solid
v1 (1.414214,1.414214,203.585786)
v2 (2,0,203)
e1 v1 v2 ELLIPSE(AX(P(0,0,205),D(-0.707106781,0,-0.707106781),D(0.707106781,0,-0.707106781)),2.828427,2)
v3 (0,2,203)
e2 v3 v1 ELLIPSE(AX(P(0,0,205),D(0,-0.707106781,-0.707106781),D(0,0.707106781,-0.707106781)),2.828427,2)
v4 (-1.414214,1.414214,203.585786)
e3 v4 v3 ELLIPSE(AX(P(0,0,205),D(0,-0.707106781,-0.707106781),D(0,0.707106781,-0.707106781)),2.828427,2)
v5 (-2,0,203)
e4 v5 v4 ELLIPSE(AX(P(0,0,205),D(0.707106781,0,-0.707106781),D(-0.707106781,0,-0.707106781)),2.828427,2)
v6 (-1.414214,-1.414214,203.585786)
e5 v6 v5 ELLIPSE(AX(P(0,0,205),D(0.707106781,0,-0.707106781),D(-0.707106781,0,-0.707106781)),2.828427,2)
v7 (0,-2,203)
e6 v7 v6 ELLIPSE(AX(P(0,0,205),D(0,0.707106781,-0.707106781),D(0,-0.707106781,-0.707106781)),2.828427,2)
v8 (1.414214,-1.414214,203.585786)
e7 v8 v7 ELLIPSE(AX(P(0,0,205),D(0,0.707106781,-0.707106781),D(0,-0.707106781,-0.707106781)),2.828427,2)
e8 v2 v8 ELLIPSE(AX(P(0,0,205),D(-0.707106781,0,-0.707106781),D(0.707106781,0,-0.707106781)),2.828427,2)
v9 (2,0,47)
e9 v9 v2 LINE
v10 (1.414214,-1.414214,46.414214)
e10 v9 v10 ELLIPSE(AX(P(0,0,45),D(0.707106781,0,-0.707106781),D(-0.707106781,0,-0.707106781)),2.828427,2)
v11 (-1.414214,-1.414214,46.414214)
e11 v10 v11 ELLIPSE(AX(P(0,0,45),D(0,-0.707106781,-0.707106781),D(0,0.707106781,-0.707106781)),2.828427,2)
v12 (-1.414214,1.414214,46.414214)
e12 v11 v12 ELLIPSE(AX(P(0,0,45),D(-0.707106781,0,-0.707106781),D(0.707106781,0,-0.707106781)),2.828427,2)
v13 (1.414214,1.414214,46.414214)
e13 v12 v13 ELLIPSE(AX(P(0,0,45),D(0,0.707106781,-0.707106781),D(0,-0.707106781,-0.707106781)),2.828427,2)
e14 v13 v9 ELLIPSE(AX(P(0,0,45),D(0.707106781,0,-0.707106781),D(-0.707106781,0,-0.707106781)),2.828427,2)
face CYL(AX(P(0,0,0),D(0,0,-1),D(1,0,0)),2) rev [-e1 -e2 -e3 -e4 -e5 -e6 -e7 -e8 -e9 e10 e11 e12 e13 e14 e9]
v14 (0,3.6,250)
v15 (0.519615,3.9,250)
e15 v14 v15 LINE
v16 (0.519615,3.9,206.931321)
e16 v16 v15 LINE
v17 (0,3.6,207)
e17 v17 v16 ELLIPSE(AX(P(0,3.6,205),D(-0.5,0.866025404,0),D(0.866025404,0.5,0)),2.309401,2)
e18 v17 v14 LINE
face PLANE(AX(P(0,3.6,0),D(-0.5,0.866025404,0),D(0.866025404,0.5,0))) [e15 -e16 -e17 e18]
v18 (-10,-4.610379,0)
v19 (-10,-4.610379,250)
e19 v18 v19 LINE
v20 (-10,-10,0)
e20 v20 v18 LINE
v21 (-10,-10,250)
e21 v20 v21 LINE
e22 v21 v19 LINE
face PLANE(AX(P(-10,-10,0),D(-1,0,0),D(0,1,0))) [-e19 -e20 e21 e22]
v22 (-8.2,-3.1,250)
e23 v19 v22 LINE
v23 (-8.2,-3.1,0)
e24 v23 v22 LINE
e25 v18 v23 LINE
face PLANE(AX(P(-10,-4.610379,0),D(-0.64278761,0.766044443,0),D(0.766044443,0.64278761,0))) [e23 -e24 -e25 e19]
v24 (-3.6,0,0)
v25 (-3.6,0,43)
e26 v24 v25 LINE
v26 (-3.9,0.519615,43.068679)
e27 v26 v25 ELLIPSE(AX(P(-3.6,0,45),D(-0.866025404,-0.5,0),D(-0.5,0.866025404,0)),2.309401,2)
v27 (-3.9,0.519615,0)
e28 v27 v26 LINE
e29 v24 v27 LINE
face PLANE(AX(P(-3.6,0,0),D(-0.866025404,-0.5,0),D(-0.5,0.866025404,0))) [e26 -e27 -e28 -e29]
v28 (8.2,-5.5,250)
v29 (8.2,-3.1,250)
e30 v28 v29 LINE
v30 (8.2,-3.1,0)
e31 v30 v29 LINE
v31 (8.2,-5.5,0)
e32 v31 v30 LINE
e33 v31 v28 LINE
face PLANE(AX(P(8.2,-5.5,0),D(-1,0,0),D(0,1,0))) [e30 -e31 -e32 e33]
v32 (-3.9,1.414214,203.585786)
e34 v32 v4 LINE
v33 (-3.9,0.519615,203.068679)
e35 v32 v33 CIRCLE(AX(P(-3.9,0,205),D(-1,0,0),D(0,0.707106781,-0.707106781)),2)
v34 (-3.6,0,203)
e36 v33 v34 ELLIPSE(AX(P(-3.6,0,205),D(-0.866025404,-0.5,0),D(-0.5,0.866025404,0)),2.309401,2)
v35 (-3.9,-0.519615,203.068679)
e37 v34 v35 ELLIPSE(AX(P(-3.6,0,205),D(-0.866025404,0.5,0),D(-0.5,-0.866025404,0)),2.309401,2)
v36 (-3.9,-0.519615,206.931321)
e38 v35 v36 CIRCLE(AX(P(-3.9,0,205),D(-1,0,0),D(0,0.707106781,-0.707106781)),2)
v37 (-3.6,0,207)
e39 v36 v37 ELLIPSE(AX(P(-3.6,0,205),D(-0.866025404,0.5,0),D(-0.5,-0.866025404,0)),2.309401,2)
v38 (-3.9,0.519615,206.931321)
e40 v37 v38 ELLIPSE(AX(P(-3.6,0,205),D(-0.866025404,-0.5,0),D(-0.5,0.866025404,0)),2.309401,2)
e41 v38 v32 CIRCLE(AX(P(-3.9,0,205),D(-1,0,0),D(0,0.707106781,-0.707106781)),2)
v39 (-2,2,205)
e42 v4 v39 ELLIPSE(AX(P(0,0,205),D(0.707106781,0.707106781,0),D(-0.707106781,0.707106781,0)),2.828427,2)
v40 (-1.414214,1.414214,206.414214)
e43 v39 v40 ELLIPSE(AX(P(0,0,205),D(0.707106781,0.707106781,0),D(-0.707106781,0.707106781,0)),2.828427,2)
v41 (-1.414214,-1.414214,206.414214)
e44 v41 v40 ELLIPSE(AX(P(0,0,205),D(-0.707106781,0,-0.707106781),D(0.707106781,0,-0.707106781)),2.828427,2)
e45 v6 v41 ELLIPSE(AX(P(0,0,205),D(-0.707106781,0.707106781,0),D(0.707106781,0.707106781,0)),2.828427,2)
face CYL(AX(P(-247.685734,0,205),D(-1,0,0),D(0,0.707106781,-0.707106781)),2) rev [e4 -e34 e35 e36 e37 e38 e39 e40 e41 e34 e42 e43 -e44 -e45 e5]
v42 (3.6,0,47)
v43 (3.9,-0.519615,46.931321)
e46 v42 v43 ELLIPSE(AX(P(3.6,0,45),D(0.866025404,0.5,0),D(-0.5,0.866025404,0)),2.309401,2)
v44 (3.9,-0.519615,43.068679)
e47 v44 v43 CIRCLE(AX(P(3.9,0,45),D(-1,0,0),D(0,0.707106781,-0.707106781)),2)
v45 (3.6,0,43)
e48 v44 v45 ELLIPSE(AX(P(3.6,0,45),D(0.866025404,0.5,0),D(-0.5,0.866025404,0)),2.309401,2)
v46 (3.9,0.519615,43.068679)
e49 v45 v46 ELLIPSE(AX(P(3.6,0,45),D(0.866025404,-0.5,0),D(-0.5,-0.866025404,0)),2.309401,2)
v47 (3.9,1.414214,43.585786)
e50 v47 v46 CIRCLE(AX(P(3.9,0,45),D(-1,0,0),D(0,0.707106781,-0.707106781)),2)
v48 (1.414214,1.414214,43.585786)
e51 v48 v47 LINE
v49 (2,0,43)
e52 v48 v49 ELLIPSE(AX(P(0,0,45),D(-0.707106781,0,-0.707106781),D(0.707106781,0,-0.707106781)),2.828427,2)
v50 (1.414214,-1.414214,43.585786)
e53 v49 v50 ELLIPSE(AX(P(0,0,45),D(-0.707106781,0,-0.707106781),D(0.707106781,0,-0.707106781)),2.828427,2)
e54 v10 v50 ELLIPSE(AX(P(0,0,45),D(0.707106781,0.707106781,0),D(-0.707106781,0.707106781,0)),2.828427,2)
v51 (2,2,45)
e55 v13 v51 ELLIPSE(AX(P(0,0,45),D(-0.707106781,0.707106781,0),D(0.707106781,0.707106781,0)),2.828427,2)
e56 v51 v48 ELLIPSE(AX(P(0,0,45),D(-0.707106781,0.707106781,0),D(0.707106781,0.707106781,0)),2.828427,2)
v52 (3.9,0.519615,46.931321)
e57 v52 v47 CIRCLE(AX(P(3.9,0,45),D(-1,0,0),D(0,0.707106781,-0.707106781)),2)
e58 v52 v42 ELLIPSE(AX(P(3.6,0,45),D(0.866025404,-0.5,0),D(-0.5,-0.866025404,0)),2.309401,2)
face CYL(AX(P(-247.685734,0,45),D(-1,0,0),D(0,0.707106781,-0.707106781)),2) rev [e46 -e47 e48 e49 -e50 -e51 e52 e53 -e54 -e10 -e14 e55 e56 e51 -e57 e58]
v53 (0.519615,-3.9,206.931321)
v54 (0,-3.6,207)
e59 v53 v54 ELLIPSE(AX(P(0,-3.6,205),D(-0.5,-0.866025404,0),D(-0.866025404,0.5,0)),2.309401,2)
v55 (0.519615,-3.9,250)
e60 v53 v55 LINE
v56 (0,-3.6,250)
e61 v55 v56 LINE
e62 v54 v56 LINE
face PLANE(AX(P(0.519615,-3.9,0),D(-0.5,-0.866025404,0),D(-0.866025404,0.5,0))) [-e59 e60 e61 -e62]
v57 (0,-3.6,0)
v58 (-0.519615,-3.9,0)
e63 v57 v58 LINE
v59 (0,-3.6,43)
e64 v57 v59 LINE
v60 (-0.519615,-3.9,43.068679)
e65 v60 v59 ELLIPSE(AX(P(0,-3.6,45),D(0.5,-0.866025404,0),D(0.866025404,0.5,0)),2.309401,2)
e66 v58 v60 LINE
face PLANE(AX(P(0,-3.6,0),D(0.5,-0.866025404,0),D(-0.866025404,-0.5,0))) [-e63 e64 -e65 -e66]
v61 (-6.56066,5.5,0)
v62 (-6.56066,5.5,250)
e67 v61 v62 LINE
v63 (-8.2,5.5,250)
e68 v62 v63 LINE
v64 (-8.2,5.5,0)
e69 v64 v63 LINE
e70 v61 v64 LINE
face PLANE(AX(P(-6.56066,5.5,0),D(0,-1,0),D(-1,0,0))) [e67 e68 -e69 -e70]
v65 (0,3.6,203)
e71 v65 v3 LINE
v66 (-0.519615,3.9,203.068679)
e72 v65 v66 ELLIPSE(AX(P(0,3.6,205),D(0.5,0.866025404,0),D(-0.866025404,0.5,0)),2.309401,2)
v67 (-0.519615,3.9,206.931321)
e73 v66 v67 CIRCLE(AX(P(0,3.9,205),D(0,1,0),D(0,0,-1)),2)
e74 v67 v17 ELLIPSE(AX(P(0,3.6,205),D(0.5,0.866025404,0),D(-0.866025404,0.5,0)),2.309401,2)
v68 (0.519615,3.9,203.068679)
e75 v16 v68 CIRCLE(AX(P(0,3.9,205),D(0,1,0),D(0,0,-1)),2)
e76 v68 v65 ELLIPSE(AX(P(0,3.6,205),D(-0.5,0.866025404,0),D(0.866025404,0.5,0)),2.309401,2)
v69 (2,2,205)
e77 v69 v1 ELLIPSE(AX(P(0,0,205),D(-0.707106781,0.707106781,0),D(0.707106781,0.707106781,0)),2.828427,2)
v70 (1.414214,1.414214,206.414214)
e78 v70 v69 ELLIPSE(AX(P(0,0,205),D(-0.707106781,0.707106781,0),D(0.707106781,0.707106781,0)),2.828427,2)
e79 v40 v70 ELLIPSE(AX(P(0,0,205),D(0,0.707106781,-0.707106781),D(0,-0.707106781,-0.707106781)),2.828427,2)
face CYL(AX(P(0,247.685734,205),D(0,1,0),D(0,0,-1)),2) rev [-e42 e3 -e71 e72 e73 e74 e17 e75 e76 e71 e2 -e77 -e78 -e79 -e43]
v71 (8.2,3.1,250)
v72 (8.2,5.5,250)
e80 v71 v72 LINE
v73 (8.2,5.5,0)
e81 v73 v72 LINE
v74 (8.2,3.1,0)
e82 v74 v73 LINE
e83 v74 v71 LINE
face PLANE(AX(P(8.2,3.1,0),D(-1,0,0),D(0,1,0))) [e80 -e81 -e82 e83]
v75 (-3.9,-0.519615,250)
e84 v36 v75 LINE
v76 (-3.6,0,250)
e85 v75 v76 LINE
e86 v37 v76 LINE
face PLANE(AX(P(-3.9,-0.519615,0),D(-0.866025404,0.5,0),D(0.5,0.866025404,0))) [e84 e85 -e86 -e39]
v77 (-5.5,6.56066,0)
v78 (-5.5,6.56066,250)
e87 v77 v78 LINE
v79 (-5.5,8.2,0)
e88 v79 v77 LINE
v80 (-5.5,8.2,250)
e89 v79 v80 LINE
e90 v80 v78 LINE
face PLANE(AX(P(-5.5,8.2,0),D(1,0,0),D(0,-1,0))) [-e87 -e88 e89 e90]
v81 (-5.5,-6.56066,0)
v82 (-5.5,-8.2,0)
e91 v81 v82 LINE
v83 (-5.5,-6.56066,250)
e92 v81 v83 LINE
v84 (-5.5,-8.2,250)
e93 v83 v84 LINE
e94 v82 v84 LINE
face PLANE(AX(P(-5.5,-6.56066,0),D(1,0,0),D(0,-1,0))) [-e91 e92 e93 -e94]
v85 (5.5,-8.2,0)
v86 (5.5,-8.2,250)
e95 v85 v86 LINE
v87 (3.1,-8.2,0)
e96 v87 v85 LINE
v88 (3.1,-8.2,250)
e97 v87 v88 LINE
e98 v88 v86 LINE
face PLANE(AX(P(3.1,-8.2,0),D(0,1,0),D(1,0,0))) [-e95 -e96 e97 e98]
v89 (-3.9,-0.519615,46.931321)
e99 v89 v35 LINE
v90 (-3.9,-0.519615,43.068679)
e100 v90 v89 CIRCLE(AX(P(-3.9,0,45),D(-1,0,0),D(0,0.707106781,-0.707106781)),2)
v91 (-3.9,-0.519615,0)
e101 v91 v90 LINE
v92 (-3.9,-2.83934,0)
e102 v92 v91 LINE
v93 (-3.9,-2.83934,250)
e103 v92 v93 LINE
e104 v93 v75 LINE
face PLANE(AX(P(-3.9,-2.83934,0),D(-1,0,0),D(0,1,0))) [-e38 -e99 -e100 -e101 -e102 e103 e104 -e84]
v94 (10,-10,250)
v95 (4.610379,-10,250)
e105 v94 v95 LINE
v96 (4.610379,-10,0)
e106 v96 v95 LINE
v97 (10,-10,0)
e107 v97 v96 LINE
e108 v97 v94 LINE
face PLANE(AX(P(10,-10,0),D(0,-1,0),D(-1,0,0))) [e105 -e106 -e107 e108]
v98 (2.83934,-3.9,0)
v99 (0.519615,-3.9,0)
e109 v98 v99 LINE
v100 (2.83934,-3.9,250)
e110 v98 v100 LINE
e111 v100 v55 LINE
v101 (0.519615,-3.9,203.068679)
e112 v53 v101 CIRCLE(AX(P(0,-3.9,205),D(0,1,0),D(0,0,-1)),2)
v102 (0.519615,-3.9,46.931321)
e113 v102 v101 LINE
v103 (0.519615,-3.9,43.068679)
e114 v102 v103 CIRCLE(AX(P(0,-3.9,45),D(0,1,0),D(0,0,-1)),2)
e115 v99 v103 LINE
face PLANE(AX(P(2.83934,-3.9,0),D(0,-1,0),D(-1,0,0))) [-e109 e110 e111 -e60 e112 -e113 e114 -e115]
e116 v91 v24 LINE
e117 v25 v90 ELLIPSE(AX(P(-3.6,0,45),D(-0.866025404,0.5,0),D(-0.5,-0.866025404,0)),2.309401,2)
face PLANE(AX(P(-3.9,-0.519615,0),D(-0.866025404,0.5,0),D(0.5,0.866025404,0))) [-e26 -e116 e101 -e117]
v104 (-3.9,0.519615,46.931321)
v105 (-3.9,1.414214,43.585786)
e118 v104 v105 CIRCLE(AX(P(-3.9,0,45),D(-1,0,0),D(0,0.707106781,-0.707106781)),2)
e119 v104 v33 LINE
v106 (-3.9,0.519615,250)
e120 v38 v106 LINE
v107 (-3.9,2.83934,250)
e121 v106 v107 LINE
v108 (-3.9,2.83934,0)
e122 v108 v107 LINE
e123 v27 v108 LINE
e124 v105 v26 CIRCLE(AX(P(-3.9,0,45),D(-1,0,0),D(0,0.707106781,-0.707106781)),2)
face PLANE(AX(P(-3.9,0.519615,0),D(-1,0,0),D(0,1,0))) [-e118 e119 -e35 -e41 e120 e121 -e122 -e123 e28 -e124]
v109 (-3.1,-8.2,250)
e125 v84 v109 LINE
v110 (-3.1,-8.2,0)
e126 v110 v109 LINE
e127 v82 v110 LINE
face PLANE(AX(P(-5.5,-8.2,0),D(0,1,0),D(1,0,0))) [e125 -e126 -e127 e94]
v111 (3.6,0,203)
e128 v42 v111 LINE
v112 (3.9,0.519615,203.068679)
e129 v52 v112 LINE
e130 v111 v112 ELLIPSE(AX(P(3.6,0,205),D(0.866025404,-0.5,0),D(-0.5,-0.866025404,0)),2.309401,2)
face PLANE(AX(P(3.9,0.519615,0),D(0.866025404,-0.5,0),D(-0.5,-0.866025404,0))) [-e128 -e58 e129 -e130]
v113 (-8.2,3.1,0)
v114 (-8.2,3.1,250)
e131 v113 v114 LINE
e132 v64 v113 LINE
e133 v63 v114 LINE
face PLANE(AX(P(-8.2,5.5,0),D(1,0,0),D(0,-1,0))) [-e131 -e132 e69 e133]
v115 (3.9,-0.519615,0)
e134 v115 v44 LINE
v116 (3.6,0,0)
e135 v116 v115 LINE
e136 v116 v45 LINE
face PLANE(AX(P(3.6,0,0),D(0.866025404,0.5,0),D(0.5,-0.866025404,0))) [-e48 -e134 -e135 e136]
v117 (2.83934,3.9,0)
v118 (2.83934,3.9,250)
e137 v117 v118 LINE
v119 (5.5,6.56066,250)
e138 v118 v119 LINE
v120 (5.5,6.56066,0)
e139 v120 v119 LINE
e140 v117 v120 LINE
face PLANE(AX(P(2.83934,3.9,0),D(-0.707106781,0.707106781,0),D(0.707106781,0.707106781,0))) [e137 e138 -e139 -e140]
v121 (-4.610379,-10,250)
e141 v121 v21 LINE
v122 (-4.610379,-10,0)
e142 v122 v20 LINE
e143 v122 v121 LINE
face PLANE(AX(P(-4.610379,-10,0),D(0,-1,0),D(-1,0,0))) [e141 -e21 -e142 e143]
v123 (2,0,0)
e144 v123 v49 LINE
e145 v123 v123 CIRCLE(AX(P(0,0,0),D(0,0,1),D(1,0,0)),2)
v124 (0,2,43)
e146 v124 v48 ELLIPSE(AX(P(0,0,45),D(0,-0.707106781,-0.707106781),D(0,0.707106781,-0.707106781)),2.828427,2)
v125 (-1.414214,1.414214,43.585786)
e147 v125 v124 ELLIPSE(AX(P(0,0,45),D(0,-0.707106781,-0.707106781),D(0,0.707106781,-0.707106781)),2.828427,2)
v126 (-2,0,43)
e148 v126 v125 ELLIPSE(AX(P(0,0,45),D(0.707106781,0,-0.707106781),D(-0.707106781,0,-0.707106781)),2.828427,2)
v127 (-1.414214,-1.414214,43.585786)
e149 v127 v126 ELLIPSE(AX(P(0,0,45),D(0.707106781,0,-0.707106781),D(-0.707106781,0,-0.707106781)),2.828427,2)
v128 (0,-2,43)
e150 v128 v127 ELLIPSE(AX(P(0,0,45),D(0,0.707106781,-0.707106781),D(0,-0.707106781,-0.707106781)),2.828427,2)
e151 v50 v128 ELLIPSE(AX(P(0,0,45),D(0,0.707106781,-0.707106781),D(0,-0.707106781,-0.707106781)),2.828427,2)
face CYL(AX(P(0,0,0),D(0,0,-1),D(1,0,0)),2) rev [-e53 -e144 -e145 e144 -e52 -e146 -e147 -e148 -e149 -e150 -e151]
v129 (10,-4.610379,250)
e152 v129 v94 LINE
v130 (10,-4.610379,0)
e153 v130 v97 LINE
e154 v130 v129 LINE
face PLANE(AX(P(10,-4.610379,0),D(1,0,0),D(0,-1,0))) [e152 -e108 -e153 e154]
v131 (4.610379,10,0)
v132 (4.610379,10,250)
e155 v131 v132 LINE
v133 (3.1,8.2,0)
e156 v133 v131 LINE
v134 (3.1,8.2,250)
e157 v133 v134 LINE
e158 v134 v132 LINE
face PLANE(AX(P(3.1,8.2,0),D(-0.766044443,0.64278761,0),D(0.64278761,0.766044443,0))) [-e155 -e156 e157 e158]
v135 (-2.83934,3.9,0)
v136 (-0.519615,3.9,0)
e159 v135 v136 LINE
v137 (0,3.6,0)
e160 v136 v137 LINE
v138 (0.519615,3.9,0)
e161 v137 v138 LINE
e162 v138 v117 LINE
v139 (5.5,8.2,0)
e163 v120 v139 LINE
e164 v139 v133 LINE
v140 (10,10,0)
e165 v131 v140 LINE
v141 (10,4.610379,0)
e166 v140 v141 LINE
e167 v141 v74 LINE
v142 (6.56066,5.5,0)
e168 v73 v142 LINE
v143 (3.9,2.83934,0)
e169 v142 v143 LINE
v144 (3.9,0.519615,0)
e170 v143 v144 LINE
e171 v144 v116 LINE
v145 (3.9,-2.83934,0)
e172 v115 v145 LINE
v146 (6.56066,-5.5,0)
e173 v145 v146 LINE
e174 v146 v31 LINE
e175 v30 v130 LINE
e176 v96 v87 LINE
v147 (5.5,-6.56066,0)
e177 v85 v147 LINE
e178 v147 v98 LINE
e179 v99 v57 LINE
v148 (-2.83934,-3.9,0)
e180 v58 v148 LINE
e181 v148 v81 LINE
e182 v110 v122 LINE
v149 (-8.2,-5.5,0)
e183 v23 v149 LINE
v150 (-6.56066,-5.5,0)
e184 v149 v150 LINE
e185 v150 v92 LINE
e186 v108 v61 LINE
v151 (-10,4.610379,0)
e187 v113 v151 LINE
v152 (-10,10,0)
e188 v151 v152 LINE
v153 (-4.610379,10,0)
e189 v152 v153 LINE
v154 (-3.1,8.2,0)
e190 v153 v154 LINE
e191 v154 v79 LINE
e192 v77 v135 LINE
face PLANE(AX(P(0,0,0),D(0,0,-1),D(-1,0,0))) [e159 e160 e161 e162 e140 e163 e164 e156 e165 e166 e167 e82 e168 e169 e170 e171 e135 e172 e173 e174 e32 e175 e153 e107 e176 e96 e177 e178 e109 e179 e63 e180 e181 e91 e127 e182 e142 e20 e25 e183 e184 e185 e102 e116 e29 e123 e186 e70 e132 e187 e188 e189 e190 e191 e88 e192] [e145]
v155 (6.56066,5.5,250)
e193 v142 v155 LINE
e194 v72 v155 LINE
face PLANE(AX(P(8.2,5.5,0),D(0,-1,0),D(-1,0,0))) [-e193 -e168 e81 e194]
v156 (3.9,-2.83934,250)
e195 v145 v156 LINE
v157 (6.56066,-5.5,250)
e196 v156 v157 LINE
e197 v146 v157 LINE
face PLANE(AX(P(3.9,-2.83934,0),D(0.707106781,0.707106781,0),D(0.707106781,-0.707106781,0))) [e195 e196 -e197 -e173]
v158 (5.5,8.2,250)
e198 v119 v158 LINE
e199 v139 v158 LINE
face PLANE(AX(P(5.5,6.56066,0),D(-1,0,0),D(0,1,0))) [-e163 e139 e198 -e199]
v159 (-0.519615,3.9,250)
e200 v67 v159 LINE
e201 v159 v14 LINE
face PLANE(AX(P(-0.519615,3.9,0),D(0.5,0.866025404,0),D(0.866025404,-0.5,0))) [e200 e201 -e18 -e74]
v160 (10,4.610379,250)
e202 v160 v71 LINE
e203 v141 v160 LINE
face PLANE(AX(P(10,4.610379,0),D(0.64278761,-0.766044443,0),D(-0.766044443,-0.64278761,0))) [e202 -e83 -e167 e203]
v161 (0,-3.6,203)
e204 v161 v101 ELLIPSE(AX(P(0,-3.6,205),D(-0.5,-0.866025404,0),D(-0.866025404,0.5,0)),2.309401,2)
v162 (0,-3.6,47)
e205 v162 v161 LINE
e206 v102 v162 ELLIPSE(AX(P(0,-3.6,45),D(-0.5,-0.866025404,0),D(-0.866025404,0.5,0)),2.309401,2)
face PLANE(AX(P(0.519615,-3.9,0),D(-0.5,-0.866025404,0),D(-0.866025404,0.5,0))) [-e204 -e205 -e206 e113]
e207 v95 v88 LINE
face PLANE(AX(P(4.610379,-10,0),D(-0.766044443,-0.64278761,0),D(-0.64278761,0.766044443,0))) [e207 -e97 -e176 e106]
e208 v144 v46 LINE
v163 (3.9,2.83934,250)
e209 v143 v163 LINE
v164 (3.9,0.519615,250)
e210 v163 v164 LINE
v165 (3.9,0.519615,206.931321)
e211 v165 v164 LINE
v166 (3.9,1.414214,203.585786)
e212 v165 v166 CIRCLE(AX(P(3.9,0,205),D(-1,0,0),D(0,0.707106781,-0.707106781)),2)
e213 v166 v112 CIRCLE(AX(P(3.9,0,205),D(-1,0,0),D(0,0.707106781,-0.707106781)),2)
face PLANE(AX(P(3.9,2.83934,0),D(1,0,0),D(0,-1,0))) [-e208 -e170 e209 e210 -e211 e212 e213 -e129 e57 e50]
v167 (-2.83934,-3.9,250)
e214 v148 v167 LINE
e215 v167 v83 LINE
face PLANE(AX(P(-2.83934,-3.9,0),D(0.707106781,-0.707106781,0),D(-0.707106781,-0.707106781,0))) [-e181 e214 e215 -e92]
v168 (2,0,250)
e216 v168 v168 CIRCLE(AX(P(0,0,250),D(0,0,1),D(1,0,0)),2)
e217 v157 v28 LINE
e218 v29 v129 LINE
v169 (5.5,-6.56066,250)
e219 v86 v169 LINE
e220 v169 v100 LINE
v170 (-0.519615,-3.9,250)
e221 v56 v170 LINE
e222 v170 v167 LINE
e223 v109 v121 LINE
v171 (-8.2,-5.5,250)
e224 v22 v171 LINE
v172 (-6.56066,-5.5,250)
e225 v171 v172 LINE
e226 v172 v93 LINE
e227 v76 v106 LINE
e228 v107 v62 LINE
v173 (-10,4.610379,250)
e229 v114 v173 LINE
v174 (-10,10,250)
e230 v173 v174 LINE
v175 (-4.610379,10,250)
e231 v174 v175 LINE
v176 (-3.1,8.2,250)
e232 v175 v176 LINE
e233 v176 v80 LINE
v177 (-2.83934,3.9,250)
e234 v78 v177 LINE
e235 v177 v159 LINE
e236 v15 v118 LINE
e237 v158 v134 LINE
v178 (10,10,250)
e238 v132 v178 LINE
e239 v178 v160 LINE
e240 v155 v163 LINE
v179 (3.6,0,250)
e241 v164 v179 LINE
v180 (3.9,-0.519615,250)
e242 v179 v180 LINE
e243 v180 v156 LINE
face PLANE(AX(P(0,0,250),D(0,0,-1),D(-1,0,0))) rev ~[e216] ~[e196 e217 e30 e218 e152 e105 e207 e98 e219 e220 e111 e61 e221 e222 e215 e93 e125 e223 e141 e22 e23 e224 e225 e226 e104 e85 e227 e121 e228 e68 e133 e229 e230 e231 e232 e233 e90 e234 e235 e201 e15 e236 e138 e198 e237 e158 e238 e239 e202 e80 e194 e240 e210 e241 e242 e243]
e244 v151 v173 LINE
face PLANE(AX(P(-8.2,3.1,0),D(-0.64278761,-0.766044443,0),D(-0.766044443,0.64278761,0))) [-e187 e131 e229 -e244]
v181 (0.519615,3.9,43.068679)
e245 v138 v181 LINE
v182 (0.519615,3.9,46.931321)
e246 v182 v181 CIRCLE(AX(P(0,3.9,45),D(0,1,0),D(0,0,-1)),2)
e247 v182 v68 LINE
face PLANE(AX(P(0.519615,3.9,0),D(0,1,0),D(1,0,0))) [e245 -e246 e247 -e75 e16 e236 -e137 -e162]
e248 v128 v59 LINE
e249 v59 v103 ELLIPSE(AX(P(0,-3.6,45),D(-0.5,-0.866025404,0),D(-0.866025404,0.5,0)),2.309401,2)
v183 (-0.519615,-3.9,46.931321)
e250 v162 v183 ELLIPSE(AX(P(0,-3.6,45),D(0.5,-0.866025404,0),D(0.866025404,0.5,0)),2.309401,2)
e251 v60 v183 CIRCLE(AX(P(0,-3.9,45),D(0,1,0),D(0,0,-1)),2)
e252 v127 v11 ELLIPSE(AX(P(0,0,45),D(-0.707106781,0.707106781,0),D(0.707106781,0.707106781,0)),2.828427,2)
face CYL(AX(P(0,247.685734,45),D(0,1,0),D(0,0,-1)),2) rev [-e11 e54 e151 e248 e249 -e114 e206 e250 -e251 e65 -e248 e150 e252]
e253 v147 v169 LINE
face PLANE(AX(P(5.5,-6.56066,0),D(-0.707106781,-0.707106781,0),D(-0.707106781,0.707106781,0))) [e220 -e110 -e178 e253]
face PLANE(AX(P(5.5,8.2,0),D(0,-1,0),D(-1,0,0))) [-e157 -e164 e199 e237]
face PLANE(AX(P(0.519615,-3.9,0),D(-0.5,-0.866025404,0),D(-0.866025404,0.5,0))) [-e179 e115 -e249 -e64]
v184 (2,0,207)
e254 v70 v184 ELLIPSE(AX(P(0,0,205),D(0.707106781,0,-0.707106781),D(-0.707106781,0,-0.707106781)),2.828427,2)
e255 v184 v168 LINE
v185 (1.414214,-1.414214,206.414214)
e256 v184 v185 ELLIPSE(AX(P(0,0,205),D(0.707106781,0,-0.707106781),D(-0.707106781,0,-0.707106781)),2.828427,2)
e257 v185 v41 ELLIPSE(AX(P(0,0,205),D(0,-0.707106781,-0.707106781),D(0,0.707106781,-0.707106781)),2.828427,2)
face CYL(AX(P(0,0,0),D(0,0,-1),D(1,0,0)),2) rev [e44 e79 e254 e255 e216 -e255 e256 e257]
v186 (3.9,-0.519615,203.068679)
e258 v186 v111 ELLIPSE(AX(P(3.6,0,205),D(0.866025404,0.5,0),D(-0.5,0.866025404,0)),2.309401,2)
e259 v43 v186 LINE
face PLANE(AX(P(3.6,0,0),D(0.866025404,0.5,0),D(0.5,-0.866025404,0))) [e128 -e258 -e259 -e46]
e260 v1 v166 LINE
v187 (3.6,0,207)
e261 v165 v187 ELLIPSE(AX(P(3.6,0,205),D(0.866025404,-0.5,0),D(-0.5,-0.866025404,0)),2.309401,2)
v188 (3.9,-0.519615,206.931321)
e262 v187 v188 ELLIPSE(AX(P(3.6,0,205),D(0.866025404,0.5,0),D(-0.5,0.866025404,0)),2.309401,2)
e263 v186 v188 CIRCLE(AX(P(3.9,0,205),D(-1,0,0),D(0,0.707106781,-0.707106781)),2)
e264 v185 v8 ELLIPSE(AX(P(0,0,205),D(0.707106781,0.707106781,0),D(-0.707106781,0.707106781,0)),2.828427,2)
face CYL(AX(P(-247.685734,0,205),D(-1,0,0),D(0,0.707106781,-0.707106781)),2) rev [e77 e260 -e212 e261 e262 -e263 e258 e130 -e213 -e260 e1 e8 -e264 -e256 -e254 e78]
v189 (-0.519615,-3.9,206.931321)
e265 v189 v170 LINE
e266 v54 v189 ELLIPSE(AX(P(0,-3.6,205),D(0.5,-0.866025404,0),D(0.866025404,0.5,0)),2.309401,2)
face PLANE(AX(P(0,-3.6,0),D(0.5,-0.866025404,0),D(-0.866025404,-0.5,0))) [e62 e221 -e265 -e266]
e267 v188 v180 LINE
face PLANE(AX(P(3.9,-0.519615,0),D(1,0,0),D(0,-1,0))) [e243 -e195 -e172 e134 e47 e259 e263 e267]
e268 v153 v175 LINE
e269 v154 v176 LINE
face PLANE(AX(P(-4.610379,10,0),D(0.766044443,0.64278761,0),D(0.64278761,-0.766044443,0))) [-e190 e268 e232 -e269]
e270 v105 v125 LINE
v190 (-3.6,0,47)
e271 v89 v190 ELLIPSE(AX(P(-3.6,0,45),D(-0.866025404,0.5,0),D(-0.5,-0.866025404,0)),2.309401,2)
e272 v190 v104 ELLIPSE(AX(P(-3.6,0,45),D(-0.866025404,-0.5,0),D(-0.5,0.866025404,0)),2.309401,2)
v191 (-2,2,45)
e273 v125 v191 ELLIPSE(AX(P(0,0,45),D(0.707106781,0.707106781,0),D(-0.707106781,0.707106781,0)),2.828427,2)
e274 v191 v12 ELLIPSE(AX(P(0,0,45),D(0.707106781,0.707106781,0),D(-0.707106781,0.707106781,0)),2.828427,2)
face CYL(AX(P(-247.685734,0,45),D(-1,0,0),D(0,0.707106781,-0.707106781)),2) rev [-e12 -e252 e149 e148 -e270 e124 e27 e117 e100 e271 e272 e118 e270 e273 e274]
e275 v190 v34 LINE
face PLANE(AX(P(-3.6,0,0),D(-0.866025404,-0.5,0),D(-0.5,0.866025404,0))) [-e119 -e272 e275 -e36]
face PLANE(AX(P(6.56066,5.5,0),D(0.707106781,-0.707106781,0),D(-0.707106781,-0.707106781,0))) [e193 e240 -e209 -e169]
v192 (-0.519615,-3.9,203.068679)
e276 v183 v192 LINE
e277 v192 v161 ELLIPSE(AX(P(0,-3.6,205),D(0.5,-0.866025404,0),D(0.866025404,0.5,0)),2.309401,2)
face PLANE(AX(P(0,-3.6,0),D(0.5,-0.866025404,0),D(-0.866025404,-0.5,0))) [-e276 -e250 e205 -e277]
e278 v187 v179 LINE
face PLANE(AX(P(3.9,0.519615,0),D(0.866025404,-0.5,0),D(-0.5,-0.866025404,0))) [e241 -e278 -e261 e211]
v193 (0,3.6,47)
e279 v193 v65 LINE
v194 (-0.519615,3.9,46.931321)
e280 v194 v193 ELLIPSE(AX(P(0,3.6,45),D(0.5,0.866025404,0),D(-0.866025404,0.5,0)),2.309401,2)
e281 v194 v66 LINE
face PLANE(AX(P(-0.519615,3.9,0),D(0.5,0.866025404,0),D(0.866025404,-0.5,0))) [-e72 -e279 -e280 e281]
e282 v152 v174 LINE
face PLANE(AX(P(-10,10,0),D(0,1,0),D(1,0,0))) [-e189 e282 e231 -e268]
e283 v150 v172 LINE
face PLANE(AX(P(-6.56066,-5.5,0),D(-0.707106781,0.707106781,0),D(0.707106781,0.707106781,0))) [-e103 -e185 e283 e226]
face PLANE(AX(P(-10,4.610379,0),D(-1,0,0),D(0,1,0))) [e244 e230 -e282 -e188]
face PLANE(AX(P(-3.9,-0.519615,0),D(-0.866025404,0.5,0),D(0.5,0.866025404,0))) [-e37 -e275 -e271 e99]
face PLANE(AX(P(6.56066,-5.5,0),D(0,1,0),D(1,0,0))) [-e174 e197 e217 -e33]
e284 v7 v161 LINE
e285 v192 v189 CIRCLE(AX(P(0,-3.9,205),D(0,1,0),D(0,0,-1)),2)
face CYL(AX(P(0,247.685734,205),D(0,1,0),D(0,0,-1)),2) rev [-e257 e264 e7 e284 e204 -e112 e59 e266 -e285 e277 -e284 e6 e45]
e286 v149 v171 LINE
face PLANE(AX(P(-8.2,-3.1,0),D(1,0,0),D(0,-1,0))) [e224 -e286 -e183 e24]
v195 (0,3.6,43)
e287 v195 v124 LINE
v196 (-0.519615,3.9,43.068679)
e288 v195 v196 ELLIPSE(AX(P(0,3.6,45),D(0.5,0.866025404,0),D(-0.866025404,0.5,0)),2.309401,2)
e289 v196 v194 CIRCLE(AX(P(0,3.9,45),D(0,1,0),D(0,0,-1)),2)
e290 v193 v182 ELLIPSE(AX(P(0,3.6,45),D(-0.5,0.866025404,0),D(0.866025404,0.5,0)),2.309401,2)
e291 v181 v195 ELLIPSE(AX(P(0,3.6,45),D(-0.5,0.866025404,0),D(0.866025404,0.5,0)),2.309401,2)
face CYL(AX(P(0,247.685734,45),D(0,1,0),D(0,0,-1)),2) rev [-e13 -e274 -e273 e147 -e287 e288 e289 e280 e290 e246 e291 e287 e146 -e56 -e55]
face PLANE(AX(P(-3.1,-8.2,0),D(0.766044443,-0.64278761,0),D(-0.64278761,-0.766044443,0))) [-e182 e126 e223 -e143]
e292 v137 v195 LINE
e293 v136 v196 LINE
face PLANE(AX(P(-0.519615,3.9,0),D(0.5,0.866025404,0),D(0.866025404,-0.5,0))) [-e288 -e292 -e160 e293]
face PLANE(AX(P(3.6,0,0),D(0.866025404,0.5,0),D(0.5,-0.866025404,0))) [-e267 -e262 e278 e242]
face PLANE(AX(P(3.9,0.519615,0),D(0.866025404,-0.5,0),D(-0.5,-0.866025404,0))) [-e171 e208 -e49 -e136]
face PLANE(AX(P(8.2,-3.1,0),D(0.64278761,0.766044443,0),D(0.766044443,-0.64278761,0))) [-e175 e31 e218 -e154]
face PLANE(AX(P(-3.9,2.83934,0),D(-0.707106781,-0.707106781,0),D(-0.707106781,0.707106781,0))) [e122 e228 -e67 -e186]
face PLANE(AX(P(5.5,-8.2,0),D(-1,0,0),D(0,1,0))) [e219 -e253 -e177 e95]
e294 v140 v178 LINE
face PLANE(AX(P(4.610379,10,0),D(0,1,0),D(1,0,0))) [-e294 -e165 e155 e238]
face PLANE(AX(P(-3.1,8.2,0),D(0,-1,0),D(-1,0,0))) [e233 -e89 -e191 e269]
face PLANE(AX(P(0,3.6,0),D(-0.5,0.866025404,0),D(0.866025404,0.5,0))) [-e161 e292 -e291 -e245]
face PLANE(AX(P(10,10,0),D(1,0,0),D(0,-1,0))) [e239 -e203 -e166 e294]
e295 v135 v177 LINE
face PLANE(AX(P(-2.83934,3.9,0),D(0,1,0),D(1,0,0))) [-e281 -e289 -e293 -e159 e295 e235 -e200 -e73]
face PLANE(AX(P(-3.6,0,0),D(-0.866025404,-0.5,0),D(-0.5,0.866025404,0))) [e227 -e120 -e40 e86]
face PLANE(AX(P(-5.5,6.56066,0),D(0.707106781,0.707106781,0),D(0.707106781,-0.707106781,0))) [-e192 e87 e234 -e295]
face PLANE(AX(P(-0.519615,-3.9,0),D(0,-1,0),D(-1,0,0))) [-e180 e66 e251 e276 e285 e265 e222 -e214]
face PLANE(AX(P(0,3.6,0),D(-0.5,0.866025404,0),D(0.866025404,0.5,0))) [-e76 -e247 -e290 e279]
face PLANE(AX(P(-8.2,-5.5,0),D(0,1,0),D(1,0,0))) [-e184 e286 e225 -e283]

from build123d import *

# Parameters (mm, degrees)
SKETCH1_R               = 2
BOSS_EXTRUDE1_DEPTH     = 250
CUT_EXTRUDE1_DEPTH      = 251.585733832
CUT_EXTRUDE1_DEPTH_BACK = 251.585733832
SKETCH2_R               = 2
CUT_EXTRUDE2_DEPTH      = 251.585733832
CUT_EXTRUDE2_DEPTH_BACK = 251.585733832
SKETCH3_R               = 2


with BuildPart() as part:
    # Sketch1 → Boss-Extrude1 (new body)
    with BuildSketch(Plane.XY):
        Polygon((10, 10), (10, 4.610379336), (8.2, 3.1), (8.2, 5.5), (6.560660172, 5.5), (3.9, 2.839339828), (3.9, 0.519615242), (3.6, 0), (3.9, -0.519615242), (3.9, -2.839339828), (6.560660172, -5.5), (8.2, -5.5), (8.2, -3.1), (10, -4.610379336), (10, -10), (4.610379336, -10), (3.1, -8.2), (5.5, -8.2), (5.5, -6.560660172), (2.839339828, -3.9), (0.519615242, -3.9), (0, -3.6), (-0.519615242, -3.9), (-2.839339828, -3.9), (-5.5, -6.560660172), (-5.5, -8.2), (-3.1, -8.2), (-4.610379336, -10), (-10, -10), (-10, -4.610379336), (-8.2, -3.1), (-8.2, -5.5), (-6.560660172, -5.5), (-3.9, -2.839339828), (-3.9, -0.519615242), (-3.6, 0), (-3.9, 0.519615242), (-3.9, 2.839339828), (-6.560660172, 5.5), (-8.2, 5.5), (-8.2, 3.1), (-10, 4.610379336), (-10, 10), (-4.610379336, 10), (-3.1, 8.2), (-5.5, 8.2), (-5.5, 6.560660172), (-2.839339828, 3.9), (-0.519615242, 3.9), (0, 3.6), (0.519615242, 3.9), (2.839339828, 3.9), (5.5, 6.560660172), (5.5, 8.2), (3.1, 8.2), (4.610379336, 10), align=None)
        Circle(SKETCH1_R, mode=Mode.SUBTRACT)
    extrude(amount=BOSS_EXTRUDE1_DEPTH)

    # Sketch2 → Cut-Extrude1 (cut, two sides: drawn at the far end of the back side and taken through both)
    with BuildSketch(Plane(origin=(0, -3.9, 0), x_dir=(-1, 0, 0), z_dir=(0, -1, 0)).offset(-CUT_EXTRUDE1_DEPTH_BACK)):
        with Locations(Location((0, -205, 0), (0, 0, 90))):
            Circle(SKETCH2_R)
        with Locations(Location((0, -45, 0), (0, 0, 90))):
            Circle(SKETCH2_R)
    extrude(amount=CUT_EXTRUDE1_DEPTH + CUT_EXTRUDE1_DEPTH_BACK, mode=Mode.SUBTRACT)

    # Sketch3 → Cut-Extrude2 (cut, two sides: drawn at the far end of the back side and taken through both)
    with BuildSketch(Plane(origin=(3.9, 0, 0), x_dir=(0, 0, -1), z_dir=(1, 0, 0)).offset(-CUT_EXTRUDE2_DEPTH_BACK)):
        with Locations(Location((-45, 0, 0), (0, 0, 45))):
            Circle(SKETCH3_R)
        with Locations(Location((-205, 0, 0), (0, 0, 45))):
            Circle(SKETCH3_R)
    extrude(amount=CUT_EXTRUDE2_DEPTH + CUT_EXTRUDE2_DEPTH_BACK, mode=Mode.SUBTRACT)


solid = part.part
